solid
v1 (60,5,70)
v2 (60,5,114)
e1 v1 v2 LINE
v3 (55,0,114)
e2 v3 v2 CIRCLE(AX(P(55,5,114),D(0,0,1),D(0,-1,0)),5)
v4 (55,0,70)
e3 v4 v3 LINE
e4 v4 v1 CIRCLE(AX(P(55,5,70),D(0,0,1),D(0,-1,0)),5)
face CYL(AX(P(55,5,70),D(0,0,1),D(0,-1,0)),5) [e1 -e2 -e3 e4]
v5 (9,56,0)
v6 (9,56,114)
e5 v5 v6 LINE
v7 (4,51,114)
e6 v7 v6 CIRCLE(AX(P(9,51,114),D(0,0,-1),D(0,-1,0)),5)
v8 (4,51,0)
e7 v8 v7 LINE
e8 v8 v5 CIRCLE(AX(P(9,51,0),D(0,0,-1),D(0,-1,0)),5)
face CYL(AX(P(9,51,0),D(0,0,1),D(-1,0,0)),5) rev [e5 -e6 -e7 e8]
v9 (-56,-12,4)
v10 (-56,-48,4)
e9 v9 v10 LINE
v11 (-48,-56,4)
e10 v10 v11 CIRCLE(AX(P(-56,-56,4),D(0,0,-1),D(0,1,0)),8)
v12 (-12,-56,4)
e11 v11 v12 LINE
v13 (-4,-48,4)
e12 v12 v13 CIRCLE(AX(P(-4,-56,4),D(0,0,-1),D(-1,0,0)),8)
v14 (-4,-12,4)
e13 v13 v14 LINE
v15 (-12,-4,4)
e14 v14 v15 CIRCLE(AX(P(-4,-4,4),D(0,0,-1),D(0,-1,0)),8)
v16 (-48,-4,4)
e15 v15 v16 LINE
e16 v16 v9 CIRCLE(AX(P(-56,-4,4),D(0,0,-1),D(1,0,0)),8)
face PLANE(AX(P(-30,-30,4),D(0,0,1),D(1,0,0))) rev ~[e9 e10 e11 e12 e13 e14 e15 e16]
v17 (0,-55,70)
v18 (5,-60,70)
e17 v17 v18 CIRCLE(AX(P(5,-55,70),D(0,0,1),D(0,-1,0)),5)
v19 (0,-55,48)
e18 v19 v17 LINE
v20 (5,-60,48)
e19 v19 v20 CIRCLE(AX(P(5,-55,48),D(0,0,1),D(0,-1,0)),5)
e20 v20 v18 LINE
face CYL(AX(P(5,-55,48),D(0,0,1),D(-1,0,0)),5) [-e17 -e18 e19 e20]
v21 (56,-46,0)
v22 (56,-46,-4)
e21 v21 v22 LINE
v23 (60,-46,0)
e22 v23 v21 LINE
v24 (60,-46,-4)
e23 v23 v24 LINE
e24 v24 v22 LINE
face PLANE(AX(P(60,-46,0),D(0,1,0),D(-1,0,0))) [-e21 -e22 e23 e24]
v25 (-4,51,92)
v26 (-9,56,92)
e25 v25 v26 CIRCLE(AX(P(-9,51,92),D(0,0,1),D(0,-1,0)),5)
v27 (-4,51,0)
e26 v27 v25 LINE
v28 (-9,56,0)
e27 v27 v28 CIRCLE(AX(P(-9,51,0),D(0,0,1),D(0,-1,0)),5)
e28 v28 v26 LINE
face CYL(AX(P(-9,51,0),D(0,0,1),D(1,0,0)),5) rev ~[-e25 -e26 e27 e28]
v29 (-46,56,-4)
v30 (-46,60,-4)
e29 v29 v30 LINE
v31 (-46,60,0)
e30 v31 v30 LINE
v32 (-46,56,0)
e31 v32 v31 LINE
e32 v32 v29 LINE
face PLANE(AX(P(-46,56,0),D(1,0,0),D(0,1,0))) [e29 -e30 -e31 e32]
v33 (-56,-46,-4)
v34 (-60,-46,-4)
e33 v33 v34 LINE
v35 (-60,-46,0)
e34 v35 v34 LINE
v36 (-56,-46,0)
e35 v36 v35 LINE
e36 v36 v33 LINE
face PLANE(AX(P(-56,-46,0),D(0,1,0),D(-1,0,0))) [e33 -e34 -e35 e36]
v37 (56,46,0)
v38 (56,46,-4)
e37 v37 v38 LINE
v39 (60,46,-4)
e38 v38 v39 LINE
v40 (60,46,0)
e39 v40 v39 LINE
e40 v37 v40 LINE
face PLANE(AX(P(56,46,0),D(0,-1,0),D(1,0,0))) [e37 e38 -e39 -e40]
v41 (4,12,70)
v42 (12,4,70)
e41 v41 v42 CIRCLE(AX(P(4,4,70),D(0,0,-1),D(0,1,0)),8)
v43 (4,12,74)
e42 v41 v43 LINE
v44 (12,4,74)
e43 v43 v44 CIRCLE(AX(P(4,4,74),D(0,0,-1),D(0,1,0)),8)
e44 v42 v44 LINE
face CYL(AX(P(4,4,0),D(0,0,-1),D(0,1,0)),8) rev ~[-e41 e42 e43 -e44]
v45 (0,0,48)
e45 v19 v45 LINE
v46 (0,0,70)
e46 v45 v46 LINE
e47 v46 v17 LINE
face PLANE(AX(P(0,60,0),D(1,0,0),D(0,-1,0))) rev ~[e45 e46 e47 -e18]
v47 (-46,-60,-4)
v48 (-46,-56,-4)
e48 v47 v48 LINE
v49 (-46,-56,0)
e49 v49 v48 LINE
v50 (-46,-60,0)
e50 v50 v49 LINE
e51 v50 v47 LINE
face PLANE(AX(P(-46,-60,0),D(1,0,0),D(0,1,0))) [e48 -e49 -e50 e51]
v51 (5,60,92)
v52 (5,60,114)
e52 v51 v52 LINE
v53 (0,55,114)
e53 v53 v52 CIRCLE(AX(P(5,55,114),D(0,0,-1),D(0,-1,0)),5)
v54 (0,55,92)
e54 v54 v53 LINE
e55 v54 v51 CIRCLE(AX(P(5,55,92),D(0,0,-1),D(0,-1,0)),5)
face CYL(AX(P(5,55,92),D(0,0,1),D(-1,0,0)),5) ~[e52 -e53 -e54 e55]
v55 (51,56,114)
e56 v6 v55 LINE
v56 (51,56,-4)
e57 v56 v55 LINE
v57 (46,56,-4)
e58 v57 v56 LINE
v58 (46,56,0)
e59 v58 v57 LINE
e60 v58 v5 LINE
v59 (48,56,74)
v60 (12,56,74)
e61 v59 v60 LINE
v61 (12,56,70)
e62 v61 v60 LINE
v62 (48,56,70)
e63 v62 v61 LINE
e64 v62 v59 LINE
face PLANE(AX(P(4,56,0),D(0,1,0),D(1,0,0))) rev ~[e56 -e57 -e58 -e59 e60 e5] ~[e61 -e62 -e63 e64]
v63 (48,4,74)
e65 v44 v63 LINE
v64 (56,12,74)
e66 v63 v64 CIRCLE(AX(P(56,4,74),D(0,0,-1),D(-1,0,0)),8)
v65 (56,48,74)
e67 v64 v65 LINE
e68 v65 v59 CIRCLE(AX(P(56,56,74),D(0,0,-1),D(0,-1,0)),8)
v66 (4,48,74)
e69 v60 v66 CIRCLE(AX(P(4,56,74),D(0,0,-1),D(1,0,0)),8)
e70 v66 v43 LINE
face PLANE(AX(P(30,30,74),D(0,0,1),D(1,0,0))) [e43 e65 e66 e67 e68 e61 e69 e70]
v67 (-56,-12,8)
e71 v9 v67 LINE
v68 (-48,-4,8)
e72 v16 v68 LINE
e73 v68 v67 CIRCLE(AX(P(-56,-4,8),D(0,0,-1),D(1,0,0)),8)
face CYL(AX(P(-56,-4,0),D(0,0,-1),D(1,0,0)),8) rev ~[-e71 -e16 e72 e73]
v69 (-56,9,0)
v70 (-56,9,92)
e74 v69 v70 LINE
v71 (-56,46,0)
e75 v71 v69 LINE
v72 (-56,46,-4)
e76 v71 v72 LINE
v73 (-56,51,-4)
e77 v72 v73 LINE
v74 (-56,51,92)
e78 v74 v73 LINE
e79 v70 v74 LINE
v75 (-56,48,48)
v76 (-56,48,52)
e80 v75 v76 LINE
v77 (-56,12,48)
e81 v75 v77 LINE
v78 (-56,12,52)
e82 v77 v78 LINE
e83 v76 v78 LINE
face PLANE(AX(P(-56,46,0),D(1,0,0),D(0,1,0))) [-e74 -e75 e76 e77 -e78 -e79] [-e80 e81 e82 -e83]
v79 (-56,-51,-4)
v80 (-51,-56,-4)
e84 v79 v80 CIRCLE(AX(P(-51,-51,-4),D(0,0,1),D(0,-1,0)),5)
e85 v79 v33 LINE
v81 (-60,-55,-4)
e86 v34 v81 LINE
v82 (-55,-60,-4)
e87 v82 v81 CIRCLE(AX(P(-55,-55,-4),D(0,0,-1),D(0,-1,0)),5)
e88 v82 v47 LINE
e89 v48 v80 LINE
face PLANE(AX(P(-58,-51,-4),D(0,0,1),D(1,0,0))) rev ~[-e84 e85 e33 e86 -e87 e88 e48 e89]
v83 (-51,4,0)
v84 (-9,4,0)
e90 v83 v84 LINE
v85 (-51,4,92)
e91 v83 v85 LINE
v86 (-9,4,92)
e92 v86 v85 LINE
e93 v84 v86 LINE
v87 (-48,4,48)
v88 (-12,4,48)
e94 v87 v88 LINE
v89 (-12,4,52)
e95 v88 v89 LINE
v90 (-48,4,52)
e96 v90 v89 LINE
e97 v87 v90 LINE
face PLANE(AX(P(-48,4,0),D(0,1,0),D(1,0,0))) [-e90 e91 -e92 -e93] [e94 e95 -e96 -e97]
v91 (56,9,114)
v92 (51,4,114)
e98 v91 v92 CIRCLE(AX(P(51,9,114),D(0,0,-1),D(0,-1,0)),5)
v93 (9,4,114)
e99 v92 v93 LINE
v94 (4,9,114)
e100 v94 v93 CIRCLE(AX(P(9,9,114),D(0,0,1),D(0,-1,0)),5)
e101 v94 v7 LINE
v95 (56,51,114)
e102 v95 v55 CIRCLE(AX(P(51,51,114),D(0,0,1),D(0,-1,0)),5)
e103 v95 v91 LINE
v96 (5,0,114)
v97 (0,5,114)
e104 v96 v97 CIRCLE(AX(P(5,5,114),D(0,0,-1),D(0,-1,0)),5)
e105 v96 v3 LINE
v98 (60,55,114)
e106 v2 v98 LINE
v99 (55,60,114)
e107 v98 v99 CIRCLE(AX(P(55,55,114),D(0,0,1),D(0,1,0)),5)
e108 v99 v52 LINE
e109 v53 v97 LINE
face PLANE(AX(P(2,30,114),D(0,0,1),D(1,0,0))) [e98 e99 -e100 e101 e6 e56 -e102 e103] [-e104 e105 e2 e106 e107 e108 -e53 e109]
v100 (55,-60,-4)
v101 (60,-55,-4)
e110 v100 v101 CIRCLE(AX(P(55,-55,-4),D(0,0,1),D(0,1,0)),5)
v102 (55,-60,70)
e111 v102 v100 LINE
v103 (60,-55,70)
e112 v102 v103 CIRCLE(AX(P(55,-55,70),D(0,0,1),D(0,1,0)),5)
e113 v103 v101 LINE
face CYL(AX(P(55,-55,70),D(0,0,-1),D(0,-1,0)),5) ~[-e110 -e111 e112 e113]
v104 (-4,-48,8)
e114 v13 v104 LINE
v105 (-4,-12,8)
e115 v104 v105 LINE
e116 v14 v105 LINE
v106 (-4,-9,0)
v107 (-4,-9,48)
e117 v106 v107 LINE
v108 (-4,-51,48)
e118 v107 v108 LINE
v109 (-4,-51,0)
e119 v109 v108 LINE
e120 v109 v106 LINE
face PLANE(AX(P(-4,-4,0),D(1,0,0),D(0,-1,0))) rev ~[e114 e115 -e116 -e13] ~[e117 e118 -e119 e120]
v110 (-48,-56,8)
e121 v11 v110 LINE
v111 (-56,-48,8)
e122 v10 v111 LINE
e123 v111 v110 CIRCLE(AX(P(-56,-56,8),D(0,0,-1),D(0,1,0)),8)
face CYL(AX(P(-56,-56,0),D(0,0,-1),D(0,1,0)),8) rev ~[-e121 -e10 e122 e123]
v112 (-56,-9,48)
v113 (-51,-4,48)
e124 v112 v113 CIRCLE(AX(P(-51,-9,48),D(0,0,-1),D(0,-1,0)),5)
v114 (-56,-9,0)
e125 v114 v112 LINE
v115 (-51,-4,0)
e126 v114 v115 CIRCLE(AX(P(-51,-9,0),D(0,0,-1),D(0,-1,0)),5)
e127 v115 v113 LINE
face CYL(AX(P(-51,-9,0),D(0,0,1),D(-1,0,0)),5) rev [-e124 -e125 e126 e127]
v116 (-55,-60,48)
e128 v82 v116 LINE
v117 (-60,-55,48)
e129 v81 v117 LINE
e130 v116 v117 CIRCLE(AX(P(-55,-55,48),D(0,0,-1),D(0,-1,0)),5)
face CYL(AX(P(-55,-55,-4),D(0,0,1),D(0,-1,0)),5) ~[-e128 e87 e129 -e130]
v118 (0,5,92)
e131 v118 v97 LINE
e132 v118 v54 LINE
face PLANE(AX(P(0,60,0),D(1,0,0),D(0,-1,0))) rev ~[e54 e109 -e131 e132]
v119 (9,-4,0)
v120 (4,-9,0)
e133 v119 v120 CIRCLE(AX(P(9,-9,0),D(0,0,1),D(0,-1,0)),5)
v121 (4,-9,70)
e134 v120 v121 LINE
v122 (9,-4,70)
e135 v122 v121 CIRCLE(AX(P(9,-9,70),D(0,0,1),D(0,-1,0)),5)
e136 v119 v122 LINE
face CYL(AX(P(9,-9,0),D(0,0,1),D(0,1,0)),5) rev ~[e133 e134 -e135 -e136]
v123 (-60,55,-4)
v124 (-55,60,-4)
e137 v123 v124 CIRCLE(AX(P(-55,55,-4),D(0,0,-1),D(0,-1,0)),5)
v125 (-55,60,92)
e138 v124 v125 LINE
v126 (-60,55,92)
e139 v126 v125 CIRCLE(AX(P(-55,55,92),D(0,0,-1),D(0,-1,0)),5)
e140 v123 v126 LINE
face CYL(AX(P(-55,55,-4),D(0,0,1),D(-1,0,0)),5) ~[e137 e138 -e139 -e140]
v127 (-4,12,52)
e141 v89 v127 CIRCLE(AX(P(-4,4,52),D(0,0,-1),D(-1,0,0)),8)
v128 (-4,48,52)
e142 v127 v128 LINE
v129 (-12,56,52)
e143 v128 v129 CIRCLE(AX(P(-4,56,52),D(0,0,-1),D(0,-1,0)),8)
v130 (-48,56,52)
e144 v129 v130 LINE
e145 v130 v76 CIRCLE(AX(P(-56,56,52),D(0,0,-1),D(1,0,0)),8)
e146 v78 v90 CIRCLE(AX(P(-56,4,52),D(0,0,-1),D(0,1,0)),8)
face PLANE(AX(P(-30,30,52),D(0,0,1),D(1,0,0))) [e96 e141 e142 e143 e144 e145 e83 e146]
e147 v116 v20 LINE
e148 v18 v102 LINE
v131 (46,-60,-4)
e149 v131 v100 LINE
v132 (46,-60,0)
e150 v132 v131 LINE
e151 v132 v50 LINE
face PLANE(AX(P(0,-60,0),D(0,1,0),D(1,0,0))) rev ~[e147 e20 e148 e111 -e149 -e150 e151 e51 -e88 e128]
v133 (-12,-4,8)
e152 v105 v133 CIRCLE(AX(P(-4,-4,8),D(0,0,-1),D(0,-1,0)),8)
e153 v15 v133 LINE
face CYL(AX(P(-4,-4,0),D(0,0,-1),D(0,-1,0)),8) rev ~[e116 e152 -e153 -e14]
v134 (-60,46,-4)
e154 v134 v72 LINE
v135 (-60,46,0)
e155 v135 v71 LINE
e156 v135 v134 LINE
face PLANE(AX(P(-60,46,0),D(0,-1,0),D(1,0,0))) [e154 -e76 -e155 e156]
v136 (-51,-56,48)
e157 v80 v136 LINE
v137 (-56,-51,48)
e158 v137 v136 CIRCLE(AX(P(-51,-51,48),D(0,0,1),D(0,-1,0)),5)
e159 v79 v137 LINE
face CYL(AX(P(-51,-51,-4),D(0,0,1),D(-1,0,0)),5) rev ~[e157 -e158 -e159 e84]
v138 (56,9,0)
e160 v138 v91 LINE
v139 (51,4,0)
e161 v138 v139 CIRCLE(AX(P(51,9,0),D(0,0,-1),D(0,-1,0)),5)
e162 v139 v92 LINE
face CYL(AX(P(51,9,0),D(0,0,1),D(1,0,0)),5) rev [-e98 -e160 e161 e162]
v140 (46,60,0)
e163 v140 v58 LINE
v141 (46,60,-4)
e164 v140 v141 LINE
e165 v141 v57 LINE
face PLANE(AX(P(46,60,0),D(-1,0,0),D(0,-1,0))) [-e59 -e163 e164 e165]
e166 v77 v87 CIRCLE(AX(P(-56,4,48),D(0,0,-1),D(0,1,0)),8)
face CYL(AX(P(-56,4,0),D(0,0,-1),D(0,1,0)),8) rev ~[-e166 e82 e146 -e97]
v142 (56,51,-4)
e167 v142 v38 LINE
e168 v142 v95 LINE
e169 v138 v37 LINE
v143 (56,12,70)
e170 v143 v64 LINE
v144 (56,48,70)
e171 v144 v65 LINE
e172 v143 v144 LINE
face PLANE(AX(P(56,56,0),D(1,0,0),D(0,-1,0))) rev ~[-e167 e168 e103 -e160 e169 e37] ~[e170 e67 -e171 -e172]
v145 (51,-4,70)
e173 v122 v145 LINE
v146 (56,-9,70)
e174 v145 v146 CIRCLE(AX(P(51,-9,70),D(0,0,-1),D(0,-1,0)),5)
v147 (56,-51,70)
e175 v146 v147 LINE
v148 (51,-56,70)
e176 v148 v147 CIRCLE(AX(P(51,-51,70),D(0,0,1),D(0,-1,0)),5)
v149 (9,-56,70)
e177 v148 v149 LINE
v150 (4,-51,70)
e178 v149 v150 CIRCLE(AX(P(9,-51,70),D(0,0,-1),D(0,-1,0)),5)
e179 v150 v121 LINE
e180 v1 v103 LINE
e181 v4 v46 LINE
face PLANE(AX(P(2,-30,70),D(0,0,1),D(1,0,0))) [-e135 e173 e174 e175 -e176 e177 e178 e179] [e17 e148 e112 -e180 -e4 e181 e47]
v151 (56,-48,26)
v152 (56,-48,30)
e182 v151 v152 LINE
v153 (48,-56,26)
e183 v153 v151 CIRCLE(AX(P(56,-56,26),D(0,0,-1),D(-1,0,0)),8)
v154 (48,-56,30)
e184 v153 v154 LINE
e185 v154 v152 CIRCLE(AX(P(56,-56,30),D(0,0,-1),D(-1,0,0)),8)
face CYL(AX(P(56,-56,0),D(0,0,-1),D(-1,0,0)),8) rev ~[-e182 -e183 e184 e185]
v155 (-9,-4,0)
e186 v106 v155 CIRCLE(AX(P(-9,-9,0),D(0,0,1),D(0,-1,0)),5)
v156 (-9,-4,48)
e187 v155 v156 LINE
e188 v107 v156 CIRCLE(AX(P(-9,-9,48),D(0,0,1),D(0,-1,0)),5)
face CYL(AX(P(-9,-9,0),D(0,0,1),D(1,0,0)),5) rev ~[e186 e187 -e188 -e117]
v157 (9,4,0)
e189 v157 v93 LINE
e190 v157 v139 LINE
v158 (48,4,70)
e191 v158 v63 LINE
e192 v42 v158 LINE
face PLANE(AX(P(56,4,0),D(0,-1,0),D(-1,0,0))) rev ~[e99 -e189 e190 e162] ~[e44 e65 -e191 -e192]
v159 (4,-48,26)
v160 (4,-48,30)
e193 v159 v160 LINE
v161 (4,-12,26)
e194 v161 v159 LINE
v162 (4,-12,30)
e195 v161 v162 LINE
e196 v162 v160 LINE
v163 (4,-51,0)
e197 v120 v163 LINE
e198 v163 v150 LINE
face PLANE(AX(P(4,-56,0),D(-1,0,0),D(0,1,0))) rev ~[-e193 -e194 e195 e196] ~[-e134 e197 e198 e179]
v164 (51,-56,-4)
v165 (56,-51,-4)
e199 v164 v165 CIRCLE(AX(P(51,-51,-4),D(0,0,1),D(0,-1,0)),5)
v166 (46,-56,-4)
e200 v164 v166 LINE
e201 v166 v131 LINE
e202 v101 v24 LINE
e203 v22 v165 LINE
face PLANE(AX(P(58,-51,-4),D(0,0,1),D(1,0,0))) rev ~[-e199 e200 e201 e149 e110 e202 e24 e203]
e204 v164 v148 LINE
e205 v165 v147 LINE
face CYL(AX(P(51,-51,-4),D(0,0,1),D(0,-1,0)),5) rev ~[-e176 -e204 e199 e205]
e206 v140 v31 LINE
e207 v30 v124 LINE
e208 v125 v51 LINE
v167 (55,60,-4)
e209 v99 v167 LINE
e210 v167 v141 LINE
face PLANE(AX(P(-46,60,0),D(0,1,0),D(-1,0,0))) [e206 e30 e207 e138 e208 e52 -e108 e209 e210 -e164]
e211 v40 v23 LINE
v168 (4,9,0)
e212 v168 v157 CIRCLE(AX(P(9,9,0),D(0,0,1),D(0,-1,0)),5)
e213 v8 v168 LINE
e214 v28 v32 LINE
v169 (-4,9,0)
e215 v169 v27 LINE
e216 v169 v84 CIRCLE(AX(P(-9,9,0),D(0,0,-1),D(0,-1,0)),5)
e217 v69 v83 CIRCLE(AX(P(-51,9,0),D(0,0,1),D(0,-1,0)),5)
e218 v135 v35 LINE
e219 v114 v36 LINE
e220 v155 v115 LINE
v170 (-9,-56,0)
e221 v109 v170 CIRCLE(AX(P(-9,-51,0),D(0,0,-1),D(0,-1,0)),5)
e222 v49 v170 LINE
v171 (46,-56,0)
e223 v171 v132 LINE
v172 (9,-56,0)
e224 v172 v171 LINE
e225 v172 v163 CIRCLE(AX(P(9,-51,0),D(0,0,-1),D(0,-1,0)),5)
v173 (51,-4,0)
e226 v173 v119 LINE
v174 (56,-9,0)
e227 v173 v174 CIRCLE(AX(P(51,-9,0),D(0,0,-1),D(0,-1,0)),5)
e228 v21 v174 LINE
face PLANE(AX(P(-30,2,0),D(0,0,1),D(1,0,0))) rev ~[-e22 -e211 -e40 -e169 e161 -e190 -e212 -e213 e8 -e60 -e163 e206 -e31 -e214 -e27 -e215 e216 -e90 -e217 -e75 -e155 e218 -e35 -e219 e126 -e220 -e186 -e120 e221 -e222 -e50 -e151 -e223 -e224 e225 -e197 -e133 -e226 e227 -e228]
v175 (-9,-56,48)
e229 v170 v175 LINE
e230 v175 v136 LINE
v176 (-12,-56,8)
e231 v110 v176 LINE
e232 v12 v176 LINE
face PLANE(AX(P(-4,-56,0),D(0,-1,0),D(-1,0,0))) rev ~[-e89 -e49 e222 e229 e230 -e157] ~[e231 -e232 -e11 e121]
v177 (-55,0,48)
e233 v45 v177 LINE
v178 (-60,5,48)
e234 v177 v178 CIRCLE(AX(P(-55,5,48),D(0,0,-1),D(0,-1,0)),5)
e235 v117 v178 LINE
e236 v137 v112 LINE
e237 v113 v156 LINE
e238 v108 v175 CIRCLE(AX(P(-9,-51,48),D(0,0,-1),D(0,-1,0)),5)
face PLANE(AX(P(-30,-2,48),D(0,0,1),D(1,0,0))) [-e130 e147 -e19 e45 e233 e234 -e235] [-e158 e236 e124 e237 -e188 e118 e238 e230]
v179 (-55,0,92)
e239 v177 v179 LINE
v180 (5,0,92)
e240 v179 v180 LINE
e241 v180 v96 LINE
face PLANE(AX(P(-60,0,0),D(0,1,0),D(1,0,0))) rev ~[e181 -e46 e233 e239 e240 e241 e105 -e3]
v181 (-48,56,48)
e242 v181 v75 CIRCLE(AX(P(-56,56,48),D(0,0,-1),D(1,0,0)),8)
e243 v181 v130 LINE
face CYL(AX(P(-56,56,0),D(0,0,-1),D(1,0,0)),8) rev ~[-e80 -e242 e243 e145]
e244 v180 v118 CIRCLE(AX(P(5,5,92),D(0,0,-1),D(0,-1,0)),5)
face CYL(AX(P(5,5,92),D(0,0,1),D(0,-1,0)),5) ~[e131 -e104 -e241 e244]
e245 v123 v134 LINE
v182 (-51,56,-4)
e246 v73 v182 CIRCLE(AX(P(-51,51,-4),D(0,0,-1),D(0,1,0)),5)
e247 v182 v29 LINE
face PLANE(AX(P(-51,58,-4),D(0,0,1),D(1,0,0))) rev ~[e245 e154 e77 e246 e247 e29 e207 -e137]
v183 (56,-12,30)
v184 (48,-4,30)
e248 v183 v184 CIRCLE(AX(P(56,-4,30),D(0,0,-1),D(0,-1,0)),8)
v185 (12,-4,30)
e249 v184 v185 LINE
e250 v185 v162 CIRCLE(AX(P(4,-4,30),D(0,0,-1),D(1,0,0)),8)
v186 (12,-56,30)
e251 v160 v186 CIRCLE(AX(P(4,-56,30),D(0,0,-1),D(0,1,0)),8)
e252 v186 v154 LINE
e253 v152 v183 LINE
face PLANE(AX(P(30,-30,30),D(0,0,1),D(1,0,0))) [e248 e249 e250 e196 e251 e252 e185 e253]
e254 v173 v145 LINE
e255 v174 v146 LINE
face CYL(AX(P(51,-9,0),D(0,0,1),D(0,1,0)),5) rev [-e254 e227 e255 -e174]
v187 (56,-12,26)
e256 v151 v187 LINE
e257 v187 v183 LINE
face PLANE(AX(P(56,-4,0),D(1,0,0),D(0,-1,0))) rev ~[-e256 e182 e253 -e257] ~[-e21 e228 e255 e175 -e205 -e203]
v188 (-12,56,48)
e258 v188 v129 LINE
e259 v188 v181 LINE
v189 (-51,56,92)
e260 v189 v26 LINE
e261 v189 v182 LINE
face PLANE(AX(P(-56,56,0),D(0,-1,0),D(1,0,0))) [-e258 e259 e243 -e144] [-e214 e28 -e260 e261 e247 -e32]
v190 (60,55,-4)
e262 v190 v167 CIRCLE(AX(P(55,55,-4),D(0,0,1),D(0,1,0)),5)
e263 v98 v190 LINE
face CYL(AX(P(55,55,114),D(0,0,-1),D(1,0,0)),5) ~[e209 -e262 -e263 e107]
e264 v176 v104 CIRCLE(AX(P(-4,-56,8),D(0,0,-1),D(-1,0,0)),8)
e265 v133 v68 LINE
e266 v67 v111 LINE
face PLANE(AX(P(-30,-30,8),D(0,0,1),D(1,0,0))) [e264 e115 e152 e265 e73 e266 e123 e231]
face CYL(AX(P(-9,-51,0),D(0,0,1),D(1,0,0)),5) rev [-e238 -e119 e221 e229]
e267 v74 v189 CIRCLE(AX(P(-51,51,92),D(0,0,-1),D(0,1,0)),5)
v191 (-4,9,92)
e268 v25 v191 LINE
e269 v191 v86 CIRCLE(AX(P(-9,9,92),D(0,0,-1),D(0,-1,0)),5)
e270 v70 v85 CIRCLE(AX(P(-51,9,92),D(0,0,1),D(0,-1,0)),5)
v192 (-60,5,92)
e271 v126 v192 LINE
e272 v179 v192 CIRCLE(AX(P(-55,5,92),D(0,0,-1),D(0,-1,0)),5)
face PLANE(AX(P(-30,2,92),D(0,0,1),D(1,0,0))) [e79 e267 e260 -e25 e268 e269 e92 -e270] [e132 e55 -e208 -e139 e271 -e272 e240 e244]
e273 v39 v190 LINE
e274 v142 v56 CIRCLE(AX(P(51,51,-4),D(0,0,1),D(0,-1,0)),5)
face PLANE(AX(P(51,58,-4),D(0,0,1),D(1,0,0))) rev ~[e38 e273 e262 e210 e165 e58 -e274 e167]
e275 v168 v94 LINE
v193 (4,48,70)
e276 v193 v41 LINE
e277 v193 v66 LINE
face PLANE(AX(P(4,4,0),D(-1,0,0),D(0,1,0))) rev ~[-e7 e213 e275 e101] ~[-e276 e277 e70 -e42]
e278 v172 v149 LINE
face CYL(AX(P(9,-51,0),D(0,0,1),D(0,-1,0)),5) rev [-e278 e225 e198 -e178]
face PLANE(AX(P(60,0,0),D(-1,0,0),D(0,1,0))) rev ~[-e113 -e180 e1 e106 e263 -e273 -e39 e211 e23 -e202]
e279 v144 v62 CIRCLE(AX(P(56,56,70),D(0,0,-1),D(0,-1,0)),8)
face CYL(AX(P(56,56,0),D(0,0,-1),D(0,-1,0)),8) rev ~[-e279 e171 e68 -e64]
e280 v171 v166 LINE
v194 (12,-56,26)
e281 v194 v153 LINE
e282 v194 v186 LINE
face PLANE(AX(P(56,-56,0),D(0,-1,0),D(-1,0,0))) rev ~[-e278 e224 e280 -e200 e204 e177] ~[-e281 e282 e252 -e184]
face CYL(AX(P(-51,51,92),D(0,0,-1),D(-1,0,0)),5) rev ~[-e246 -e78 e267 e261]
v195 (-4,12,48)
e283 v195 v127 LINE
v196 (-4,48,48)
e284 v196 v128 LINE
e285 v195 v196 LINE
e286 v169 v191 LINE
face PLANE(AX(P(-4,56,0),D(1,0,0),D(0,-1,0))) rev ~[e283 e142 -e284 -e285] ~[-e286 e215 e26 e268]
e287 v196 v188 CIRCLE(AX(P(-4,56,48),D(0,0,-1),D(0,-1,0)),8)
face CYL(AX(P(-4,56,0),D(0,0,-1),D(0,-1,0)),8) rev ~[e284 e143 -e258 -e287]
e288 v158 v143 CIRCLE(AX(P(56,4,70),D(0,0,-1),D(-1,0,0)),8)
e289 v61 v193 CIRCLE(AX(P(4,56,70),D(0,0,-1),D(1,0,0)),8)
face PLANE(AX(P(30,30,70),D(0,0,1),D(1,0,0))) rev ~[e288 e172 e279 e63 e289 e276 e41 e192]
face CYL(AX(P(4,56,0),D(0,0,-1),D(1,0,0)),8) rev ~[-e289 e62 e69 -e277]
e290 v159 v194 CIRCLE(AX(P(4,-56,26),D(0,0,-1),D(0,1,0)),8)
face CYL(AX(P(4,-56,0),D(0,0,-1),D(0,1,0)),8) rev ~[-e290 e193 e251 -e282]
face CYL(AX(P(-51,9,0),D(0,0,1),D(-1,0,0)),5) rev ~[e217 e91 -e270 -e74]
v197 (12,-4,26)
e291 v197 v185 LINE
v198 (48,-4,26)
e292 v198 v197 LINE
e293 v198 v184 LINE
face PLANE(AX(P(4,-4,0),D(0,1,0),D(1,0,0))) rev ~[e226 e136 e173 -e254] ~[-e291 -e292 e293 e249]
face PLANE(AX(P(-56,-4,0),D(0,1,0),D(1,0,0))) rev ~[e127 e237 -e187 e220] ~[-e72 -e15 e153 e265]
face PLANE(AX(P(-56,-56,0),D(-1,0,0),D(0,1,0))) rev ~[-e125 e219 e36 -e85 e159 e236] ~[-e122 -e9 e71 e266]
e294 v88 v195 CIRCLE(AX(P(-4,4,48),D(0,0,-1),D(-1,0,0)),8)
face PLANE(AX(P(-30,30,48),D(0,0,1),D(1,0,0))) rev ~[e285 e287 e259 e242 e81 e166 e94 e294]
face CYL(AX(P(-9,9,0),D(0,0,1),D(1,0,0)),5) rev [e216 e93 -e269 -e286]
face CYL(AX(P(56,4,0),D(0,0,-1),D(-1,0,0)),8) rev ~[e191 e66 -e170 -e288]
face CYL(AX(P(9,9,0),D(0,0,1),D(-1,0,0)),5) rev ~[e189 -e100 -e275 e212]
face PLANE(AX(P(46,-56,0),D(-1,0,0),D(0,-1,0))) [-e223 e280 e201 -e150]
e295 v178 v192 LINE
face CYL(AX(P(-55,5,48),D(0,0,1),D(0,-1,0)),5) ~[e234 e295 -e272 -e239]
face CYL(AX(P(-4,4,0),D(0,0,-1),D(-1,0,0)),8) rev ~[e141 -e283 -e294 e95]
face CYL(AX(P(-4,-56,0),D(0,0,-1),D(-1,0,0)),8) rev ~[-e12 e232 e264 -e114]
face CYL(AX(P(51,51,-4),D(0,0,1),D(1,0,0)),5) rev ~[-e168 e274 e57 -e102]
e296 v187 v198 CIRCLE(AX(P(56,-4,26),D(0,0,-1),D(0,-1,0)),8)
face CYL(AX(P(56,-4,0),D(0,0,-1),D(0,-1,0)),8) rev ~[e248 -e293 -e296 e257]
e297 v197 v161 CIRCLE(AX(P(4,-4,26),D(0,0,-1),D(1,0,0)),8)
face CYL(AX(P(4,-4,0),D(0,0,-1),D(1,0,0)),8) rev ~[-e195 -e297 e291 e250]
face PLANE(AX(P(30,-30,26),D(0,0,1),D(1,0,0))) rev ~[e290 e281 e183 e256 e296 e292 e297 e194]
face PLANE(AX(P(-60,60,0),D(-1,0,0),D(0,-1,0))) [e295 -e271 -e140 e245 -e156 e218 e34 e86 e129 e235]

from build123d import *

# Parameters (mm, degrees)
F0_W      = 4
F0_H      = 4
F1_DEPTH  = 48
F2_DEPTH  = 8
F3_DEPTH  = 70
F4_DEPTH  = 30
F0_H_2    = 23.163830772
F5_DEPTH  = 114
F6_DEPTH  = 74
F0_W_2    = 10.0586636961
F7_DEPTH  = 92
F8_DEPTH  = 52
F9_DEPTH  = 4
F10_DEPTH = 48
F11_DEPTH = 26
F12_DEPTH = 70
F13_DEPTH = 4
F14_R     = 5


with BuildPart() as f1:
    # F0 (on Top) → F1 (new body)
    with BuildSketch(Plane.XY):
        Polygon((-12, -4), (-4, -4), (-4, 0), (-56, 0), (-56, -4), (-48, -4), align=None)
        Polygon((-60, -56), (-56, -56), (-56, -48), (-56, -46), (-60, -46), align=None)
        Polygon((-4, -56), (0, -56), (0, -4), (-4, -4), (-4, -12), (-4, -48), align=None)
        with Locations((-2, -2)):
            Rectangle(F0_W, F0_H)
        Polygon((-60, 0), (-60, -46), (-56, -46), (-56, -16.2410065532), (-56, -12), (-56, -4), (-56, 0), align=None)
        Polygon((-46, -60), (0, -60), (0, -56), (-4, -56), (-12, -56), (-46, -56), align=None)
        Polygon((-56, -60), (-46, -60), (-46, -56), (-48, -56), (-56, -56), align=None)
        with Locations((-58, -58)):
            Rectangle(F0_W, F0_H)
    extrude(amount=F1_DEPTH)

    # F0 (on Top) → F2 (join)
    with BuildSketch(Plane.XY):
        with BuildLine():
            Line((-48, -56), (-46, -56))
            Line((-46, -56), (-12, -56))
            ThreePointArc((-12, -56), (-9.6568542495, -50.3431457505), (-4, -48))
            Line((-4, -48), (-4, -12))
            ThreePointArc((-4, -12), (-9.6568542495, -9.6568542495), (-12, -4))
            Line((-12, -4), (-48, -4))
            ThreePointArc((-48, -4), (-50.3431457505, -9.6568542495), (-56, -12))
            Line((-56, -12), (-56, -16.2410065532))
            Line((-56, -16.2410065532), (-56, -46))
            Line((-56, -46), (-56, -48))
            ThreePointArc((-56, -48), (-50.3431457505, -50.3431457505), (-48, -56))
        make_face()
    extrude(amount=F2_DEPTH)

    # F0 (on Top) → F3 (join)
    with BuildSketch(Plane.XY):
        Polygon((0, -4), (0, -56), (4, -56), (4, -48), (4, -12), (4, -4), align=None)
        with Locations((2, -2)):
            Rectangle(F0_W, F0_H)
        Polygon((56, -4), (56, 0), (4, 0), (4, -4), (12, -4), (48, -4), align=None)
        Polygon((56, -46), (60, -46), (60, 0), (56, 0), (56, -4), (56, -12), align=None)
        Polygon((0, -60), (46, -60), (46, -56), (12, -56), (4, -56), (0, -56), align=None)
        Polygon((56, -56), (60, -56), (60, -46), (56, -46), (56, -48), align=None)
        with Locations((58, -58)):
            Rectangle(F0_W, F0_H)
        Polygon((46, -60), (56, -60), (56, -56), (48, -56), (46, -56), align=None)
    extrude(amount=F3_DEPTH)

    # F0 (on Top) → F4 (join)
    with BuildSketch(Plane.XY):
        with BuildLine():
            Line((12, -56), (46, -56))
            Line((46, -56), (48, -56))
            ThreePointArc((48, -56), (50.3431457505, -50.3431457505), (56, -48))
            Line((56, -48), (56, -46))
            Line((56, -46), (56, -12))
            ThreePointArc((56, -12), (50.3431457505, -9.6568542495), (48, -4))
            Line((48, -4), (12, -4))
            ThreePointArc((12, -4), (9.6568542495, -9.6568542495), (4, -12))
            Line((4, -12), (4, -48))
            ThreePointArc((4, -48), (9.6568542495, -50.3431457505), (12, -56))
        make_face()
    extrude(amount=F4_DEPTH)

    # F0 (on Top) → F5 (join)
    with BuildSketch(Plane.XY):
        Polygon((0, 4), (4, 4), (4, 12), (4, 48), (4, 56), (0, 56), align=None)
        Polygon((0, 60), (0, 56), (4, 56), (12, 56), (46, 56), (46, 60), align=None)
        with Locations((58, 34.418084614)):
            Rectangle(F0_W, F0_H_2)
        Polygon((56, 0), (60, 0), (60, 22.836169228), (56, 22.836169228), (56, 12), (56, 4), align=None)
        Polygon((4, 0), (56, 0), (56, 4), (48, 4), (12, 4), (4, 4), align=None)
        with Locations((2, 2)):
            Rectangle(F0_W, F0_H)
        Polygon((48, 56), (56, 56), (56, 60), (46, 60), (46, 56), align=None)
        with Locations((58, 58)):
            Rectangle(F0_W, F0_H)
        Polygon((56, 46), (60, 46), (60, 56), (56, 56), (56, 48), align=None)
    extrude(amount=F5_DEPTH)

    # F0 (on Top) → F6 (join)
    with BuildSketch(Plane.XY):
        with BuildLine():
            Line((56, 12), (56, 22.836169228))
            Line((56, 22.836169228), (56, 46))
            Line((56, 46), (56, 48))
            ThreePointArc((56, 48), (50.3431457505, 50.3431457505), (48, 56))
            Line((48, 56), (46, 56))
            Line((46, 56), (12, 56))
            ThreePointArc((12, 56), (9.6568542495, 50.3431457505), (4, 48))
            Line((4, 48), (4, 12))
            ThreePointArc((4, 12), (9.6568542495, 9.6568542495), (12, 4))
            Line((12, 4), (48, 4))
            ThreePointArc((48, 4), (50.3431457505, 9.6568542495), (56, 12))
        make_face()
    extrude(amount=F6_DEPTH)

    # F0 (on Top) → F7 (join)
    with BuildSketch(Plane.XY):
        Polygon((-56, 0), (-4, 0), (-4, 4), (-12, 4), (-48, 4), (-56, 4), align=None)
        Polygon((-4, 4), (0, 4), (0, 56), (-4, 56), (-4, 48), (-4, 12), align=None)
        with Locations((-2, 2)):
            Rectangle(F0_W, F0_H)
        Polygon((-4, 56), (0, 56), (0, 60), (-35.9413363039, 60), (-35.9413363039, 56), (-12, 56), align=None)
        with Locations((-40.970668152, 58)):
            Rectangle(F0_W_2, F0_H)
        Polygon((-60, 0), (-56, 0), (-56, 4), (-56, 12), (-56, 46), (-60, 46), align=None)
        Polygon((-46, 56), (-46, 60), (-56, 60), (-56, 56), (-48, 56), align=None)
        with Locations((-58, 58)):
            Rectangle(F0_W, F0_H)
        Polygon((-60, 56), (-60, 46), (-56, 46), (-56, 48), (-56, 56), align=None)
    extrude(amount=F7_DEPTH)

    # F0 (on Top) → F8 (join)
    with BuildSketch(Plane.XY):
        with BuildLine():
            ThreePointArc((-12, 4), (-9.6568542495, 9.6568542495), (-4, 12))
            Line((-4, 12), (-4, 48))
            ThreePointArc((-4, 48), (-9.6568542495, 50.3431457505), (-12, 56))
            Line((-12, 56), (-35.9413363039, 56))
            Line((-35.9413363039, 56), (-46, 56))
            Line((-46, 56), (-48, 56))
            ThreePointArc((-48, 56), (-50.3431457505, 50.3431457505), (-56, 48))
            Line((-56, 48), (-56, 46))
            Line((-56, 46), (-56, 12))
            ThreePointArc((-56, 12), (-50.3431457505, 9.6568542495), (-48, 4))
            Line((-48, 4), (-12, 4))
        make_face()
    extrude(amount=F8_DEPTH)

    # F0 (on Top) → F9 (cut)
    with BuildSketch(Plane.XY):
        with BuildLine():
            Line((-48, -56), (-46, -56))
            Line((-46, -56), (-12, -56))
            ThreePointArc((-12, -56), (-9.6568542495, -50.3431457505), (-4, -48))
            Line((-4, -48), (-4, -12))
            ThreePointArc((-4, -12), (-9.6568542495, -9.6568542495), (-12, -4))
            Line((-12, -4), (-48, -4))
            ThreePointArc((-48, -4), (-50.3431457505, -9.6568542495), (-56, -12))
            Line((-56, -12), (-56, -16.2410065532))
            Line((-56, -16.2410065532), (-56, -46))
            Line((-56, -46), (-56, -48))
            ThreePointArc((-56, -48), (-50.3431457505, -50.3431457505), (-48, -56))
        make_face()
    extrude(amount=F9_DEPTH, mode=Mode.SUBTRACT)

    # F0 (on Top) → F10 (cut)
    with BuildSketch(Plane.XY):
        with BuildLine():
            ThreePointArc((-12, 4), (-9.6568542495, 9.6568542495), (-4, 12))
            Line((-4, 12), (-4, 48))
            ThreePointArc((-4, 48), (-9.6568542495, 50.3431457505), (-12, 56))
            Line((-12, 56), (-35.9413363039, 56))
            Line((-35.9413363039, 56), (-46, 56))
            Line((-46, 56), (-48, 56))
            ThreePointArc((-48, 56), (-50.3431457505, 50.3431457505), (-56, 48))
            Line((-56, 48), (-56, 46))
            Line((-56, 46), (-56, 12))
            ThreePointArc((-56, 12), (-50.3431457505, 9.6568542495), (-48, 4))
            Line((-48, 4), (-12, 4))
        make_face()
    extrude(amount=F10_DEPTH, mode=Mode.SUBTRACT)

    # F0 (on Top) → F11 (cut)
    with BuildSketch(Plane.XY):
        with BuildLine():
            Line((12, -56), (46, -56))
            Line((46, -56), (48, -56))
            ThreePointArc((48, -56), (50.3431457505, -50.3431457505), (56, -48))
            Line((56, -48), (56, -46))
            Line((56, -46), (56, -12))
            ThreePointArc((56, -12), (50.3431457505, -9.6568542495), (48, -4))
            Line((48, -4), (12, -4))
            ThreePointArc((12, -4), (9.6568542495, -9.6568542495), (4, -12))
            Line((4, -12), (4, -48))
            ThreePointArc((4, -48), (9.6568542495, -50.3431457505), (12, -56))
        make_face()
    extrude(amount=F11_DEPTH, mode=Mode.SUBTRACT)

    # F0 (on Top) → F12 (cut)
    with BuildSketch(Plane.XY):
        with BuildLine():
            Line((56, 12), (56, 22.836169228))
            Line((56, 22.836169228), (56, 46))
            Line((56, 46), (56, 48))
            ThreePointArc((56, 48), (50.3431457505, 50.3431457505), (48, 56))
            Line((48, 56), (46, 56))
            Line((46, 56), (12, 56))
            ThreePointArc((12, 56), (9.6568542495, 50.3431457505), (4, 48))
            Line((4, 48), (4, 12))
            ThreePointArc((4, 12), (9.6568542495, 9.6568542495), (12, 4))
            Line((12, 4), (48, 4))
            ThreePointArc((48, 4), (50.3431457505, 9.6568542495), (56, 12))
        make_face()
    extrude(amount=F12_DEPTH, mode=Mode.SUBTRACT)

    # F0 (on Top) → F13 (join)
    with BuildSketch(Plane.XY):
        Polygon((-46, 56), (-46, 60), (-56, 60), (-56, 56), (-48, 56), align=None)
        with Locations((-58, 58)):
            Rectangle(F0_W, F0_H)
        Polygon((-60, 56), (-60, 46), (-56, 46), (-56, 48), (-56, 56), align=None)
        Polygon((48, 56), (56, 56), (56, 60), (46, 60), (46, 56), align=None)
        with Locations((58, 58)):
            Rectangle(F0_W, F0_H)
        Polygon((56, 46), (60, 46), (60, 56), (56, 56), (56, 48), align=None)
        Polygon((56, -56), (60, -56), (60, -46), (56, -46), (56, -48), align=None)
        Polygon((46, -60), (56, -60), (56, -56), (48, -56), (46, -56), align=None)
        with Locations((58, -58)):
            Rectangle(F0_W, F0_H)
        Polygon((-60, -56), (-56, -56), (-56, -48), (-56, -46), (-60, -46), align=None)
        with Locations((-58, -58)):
            Rectangle(F0_W, F0_H)
        Polygon((-56, -60), (-46, -60), (-46, -56), (-48, -56), (-56, -56), align=None)
    extrude(amount=-F13_DEPTH)

    # F14
    f14_edges = [f1.edges().sort_by_distance(p)[0] for p in [
        (-60, 60, 44),
        (-60, 0, 70),
        (-60, -60, 22),
        (60, -60, 33),
        (0, -60, 59),
        (60, 60, 55),
        (0, 60, 103),
        (0, 0, 103),
        (60, 0, 92),
        (-4, 56, 46),
        (-4, 4, 46),
        (-56, 56, 44),
        (-56, 4, 46),
        (-56, -4, 24),
        (-4, -4, 24),
        (-4, -56, 24),
        (-56, -56, 22),
        (4, -56, 35),
        (4, -4, 35),
        (56, -4, 35),
        (56, -56, 33),
        (56, 4, 57),
        (56, 56, 55),
        (4, 56, 57),
        (4, 4, 57),
    ]]
    fillet(f14_edges, radius=F14_R)


solid = f1.part
